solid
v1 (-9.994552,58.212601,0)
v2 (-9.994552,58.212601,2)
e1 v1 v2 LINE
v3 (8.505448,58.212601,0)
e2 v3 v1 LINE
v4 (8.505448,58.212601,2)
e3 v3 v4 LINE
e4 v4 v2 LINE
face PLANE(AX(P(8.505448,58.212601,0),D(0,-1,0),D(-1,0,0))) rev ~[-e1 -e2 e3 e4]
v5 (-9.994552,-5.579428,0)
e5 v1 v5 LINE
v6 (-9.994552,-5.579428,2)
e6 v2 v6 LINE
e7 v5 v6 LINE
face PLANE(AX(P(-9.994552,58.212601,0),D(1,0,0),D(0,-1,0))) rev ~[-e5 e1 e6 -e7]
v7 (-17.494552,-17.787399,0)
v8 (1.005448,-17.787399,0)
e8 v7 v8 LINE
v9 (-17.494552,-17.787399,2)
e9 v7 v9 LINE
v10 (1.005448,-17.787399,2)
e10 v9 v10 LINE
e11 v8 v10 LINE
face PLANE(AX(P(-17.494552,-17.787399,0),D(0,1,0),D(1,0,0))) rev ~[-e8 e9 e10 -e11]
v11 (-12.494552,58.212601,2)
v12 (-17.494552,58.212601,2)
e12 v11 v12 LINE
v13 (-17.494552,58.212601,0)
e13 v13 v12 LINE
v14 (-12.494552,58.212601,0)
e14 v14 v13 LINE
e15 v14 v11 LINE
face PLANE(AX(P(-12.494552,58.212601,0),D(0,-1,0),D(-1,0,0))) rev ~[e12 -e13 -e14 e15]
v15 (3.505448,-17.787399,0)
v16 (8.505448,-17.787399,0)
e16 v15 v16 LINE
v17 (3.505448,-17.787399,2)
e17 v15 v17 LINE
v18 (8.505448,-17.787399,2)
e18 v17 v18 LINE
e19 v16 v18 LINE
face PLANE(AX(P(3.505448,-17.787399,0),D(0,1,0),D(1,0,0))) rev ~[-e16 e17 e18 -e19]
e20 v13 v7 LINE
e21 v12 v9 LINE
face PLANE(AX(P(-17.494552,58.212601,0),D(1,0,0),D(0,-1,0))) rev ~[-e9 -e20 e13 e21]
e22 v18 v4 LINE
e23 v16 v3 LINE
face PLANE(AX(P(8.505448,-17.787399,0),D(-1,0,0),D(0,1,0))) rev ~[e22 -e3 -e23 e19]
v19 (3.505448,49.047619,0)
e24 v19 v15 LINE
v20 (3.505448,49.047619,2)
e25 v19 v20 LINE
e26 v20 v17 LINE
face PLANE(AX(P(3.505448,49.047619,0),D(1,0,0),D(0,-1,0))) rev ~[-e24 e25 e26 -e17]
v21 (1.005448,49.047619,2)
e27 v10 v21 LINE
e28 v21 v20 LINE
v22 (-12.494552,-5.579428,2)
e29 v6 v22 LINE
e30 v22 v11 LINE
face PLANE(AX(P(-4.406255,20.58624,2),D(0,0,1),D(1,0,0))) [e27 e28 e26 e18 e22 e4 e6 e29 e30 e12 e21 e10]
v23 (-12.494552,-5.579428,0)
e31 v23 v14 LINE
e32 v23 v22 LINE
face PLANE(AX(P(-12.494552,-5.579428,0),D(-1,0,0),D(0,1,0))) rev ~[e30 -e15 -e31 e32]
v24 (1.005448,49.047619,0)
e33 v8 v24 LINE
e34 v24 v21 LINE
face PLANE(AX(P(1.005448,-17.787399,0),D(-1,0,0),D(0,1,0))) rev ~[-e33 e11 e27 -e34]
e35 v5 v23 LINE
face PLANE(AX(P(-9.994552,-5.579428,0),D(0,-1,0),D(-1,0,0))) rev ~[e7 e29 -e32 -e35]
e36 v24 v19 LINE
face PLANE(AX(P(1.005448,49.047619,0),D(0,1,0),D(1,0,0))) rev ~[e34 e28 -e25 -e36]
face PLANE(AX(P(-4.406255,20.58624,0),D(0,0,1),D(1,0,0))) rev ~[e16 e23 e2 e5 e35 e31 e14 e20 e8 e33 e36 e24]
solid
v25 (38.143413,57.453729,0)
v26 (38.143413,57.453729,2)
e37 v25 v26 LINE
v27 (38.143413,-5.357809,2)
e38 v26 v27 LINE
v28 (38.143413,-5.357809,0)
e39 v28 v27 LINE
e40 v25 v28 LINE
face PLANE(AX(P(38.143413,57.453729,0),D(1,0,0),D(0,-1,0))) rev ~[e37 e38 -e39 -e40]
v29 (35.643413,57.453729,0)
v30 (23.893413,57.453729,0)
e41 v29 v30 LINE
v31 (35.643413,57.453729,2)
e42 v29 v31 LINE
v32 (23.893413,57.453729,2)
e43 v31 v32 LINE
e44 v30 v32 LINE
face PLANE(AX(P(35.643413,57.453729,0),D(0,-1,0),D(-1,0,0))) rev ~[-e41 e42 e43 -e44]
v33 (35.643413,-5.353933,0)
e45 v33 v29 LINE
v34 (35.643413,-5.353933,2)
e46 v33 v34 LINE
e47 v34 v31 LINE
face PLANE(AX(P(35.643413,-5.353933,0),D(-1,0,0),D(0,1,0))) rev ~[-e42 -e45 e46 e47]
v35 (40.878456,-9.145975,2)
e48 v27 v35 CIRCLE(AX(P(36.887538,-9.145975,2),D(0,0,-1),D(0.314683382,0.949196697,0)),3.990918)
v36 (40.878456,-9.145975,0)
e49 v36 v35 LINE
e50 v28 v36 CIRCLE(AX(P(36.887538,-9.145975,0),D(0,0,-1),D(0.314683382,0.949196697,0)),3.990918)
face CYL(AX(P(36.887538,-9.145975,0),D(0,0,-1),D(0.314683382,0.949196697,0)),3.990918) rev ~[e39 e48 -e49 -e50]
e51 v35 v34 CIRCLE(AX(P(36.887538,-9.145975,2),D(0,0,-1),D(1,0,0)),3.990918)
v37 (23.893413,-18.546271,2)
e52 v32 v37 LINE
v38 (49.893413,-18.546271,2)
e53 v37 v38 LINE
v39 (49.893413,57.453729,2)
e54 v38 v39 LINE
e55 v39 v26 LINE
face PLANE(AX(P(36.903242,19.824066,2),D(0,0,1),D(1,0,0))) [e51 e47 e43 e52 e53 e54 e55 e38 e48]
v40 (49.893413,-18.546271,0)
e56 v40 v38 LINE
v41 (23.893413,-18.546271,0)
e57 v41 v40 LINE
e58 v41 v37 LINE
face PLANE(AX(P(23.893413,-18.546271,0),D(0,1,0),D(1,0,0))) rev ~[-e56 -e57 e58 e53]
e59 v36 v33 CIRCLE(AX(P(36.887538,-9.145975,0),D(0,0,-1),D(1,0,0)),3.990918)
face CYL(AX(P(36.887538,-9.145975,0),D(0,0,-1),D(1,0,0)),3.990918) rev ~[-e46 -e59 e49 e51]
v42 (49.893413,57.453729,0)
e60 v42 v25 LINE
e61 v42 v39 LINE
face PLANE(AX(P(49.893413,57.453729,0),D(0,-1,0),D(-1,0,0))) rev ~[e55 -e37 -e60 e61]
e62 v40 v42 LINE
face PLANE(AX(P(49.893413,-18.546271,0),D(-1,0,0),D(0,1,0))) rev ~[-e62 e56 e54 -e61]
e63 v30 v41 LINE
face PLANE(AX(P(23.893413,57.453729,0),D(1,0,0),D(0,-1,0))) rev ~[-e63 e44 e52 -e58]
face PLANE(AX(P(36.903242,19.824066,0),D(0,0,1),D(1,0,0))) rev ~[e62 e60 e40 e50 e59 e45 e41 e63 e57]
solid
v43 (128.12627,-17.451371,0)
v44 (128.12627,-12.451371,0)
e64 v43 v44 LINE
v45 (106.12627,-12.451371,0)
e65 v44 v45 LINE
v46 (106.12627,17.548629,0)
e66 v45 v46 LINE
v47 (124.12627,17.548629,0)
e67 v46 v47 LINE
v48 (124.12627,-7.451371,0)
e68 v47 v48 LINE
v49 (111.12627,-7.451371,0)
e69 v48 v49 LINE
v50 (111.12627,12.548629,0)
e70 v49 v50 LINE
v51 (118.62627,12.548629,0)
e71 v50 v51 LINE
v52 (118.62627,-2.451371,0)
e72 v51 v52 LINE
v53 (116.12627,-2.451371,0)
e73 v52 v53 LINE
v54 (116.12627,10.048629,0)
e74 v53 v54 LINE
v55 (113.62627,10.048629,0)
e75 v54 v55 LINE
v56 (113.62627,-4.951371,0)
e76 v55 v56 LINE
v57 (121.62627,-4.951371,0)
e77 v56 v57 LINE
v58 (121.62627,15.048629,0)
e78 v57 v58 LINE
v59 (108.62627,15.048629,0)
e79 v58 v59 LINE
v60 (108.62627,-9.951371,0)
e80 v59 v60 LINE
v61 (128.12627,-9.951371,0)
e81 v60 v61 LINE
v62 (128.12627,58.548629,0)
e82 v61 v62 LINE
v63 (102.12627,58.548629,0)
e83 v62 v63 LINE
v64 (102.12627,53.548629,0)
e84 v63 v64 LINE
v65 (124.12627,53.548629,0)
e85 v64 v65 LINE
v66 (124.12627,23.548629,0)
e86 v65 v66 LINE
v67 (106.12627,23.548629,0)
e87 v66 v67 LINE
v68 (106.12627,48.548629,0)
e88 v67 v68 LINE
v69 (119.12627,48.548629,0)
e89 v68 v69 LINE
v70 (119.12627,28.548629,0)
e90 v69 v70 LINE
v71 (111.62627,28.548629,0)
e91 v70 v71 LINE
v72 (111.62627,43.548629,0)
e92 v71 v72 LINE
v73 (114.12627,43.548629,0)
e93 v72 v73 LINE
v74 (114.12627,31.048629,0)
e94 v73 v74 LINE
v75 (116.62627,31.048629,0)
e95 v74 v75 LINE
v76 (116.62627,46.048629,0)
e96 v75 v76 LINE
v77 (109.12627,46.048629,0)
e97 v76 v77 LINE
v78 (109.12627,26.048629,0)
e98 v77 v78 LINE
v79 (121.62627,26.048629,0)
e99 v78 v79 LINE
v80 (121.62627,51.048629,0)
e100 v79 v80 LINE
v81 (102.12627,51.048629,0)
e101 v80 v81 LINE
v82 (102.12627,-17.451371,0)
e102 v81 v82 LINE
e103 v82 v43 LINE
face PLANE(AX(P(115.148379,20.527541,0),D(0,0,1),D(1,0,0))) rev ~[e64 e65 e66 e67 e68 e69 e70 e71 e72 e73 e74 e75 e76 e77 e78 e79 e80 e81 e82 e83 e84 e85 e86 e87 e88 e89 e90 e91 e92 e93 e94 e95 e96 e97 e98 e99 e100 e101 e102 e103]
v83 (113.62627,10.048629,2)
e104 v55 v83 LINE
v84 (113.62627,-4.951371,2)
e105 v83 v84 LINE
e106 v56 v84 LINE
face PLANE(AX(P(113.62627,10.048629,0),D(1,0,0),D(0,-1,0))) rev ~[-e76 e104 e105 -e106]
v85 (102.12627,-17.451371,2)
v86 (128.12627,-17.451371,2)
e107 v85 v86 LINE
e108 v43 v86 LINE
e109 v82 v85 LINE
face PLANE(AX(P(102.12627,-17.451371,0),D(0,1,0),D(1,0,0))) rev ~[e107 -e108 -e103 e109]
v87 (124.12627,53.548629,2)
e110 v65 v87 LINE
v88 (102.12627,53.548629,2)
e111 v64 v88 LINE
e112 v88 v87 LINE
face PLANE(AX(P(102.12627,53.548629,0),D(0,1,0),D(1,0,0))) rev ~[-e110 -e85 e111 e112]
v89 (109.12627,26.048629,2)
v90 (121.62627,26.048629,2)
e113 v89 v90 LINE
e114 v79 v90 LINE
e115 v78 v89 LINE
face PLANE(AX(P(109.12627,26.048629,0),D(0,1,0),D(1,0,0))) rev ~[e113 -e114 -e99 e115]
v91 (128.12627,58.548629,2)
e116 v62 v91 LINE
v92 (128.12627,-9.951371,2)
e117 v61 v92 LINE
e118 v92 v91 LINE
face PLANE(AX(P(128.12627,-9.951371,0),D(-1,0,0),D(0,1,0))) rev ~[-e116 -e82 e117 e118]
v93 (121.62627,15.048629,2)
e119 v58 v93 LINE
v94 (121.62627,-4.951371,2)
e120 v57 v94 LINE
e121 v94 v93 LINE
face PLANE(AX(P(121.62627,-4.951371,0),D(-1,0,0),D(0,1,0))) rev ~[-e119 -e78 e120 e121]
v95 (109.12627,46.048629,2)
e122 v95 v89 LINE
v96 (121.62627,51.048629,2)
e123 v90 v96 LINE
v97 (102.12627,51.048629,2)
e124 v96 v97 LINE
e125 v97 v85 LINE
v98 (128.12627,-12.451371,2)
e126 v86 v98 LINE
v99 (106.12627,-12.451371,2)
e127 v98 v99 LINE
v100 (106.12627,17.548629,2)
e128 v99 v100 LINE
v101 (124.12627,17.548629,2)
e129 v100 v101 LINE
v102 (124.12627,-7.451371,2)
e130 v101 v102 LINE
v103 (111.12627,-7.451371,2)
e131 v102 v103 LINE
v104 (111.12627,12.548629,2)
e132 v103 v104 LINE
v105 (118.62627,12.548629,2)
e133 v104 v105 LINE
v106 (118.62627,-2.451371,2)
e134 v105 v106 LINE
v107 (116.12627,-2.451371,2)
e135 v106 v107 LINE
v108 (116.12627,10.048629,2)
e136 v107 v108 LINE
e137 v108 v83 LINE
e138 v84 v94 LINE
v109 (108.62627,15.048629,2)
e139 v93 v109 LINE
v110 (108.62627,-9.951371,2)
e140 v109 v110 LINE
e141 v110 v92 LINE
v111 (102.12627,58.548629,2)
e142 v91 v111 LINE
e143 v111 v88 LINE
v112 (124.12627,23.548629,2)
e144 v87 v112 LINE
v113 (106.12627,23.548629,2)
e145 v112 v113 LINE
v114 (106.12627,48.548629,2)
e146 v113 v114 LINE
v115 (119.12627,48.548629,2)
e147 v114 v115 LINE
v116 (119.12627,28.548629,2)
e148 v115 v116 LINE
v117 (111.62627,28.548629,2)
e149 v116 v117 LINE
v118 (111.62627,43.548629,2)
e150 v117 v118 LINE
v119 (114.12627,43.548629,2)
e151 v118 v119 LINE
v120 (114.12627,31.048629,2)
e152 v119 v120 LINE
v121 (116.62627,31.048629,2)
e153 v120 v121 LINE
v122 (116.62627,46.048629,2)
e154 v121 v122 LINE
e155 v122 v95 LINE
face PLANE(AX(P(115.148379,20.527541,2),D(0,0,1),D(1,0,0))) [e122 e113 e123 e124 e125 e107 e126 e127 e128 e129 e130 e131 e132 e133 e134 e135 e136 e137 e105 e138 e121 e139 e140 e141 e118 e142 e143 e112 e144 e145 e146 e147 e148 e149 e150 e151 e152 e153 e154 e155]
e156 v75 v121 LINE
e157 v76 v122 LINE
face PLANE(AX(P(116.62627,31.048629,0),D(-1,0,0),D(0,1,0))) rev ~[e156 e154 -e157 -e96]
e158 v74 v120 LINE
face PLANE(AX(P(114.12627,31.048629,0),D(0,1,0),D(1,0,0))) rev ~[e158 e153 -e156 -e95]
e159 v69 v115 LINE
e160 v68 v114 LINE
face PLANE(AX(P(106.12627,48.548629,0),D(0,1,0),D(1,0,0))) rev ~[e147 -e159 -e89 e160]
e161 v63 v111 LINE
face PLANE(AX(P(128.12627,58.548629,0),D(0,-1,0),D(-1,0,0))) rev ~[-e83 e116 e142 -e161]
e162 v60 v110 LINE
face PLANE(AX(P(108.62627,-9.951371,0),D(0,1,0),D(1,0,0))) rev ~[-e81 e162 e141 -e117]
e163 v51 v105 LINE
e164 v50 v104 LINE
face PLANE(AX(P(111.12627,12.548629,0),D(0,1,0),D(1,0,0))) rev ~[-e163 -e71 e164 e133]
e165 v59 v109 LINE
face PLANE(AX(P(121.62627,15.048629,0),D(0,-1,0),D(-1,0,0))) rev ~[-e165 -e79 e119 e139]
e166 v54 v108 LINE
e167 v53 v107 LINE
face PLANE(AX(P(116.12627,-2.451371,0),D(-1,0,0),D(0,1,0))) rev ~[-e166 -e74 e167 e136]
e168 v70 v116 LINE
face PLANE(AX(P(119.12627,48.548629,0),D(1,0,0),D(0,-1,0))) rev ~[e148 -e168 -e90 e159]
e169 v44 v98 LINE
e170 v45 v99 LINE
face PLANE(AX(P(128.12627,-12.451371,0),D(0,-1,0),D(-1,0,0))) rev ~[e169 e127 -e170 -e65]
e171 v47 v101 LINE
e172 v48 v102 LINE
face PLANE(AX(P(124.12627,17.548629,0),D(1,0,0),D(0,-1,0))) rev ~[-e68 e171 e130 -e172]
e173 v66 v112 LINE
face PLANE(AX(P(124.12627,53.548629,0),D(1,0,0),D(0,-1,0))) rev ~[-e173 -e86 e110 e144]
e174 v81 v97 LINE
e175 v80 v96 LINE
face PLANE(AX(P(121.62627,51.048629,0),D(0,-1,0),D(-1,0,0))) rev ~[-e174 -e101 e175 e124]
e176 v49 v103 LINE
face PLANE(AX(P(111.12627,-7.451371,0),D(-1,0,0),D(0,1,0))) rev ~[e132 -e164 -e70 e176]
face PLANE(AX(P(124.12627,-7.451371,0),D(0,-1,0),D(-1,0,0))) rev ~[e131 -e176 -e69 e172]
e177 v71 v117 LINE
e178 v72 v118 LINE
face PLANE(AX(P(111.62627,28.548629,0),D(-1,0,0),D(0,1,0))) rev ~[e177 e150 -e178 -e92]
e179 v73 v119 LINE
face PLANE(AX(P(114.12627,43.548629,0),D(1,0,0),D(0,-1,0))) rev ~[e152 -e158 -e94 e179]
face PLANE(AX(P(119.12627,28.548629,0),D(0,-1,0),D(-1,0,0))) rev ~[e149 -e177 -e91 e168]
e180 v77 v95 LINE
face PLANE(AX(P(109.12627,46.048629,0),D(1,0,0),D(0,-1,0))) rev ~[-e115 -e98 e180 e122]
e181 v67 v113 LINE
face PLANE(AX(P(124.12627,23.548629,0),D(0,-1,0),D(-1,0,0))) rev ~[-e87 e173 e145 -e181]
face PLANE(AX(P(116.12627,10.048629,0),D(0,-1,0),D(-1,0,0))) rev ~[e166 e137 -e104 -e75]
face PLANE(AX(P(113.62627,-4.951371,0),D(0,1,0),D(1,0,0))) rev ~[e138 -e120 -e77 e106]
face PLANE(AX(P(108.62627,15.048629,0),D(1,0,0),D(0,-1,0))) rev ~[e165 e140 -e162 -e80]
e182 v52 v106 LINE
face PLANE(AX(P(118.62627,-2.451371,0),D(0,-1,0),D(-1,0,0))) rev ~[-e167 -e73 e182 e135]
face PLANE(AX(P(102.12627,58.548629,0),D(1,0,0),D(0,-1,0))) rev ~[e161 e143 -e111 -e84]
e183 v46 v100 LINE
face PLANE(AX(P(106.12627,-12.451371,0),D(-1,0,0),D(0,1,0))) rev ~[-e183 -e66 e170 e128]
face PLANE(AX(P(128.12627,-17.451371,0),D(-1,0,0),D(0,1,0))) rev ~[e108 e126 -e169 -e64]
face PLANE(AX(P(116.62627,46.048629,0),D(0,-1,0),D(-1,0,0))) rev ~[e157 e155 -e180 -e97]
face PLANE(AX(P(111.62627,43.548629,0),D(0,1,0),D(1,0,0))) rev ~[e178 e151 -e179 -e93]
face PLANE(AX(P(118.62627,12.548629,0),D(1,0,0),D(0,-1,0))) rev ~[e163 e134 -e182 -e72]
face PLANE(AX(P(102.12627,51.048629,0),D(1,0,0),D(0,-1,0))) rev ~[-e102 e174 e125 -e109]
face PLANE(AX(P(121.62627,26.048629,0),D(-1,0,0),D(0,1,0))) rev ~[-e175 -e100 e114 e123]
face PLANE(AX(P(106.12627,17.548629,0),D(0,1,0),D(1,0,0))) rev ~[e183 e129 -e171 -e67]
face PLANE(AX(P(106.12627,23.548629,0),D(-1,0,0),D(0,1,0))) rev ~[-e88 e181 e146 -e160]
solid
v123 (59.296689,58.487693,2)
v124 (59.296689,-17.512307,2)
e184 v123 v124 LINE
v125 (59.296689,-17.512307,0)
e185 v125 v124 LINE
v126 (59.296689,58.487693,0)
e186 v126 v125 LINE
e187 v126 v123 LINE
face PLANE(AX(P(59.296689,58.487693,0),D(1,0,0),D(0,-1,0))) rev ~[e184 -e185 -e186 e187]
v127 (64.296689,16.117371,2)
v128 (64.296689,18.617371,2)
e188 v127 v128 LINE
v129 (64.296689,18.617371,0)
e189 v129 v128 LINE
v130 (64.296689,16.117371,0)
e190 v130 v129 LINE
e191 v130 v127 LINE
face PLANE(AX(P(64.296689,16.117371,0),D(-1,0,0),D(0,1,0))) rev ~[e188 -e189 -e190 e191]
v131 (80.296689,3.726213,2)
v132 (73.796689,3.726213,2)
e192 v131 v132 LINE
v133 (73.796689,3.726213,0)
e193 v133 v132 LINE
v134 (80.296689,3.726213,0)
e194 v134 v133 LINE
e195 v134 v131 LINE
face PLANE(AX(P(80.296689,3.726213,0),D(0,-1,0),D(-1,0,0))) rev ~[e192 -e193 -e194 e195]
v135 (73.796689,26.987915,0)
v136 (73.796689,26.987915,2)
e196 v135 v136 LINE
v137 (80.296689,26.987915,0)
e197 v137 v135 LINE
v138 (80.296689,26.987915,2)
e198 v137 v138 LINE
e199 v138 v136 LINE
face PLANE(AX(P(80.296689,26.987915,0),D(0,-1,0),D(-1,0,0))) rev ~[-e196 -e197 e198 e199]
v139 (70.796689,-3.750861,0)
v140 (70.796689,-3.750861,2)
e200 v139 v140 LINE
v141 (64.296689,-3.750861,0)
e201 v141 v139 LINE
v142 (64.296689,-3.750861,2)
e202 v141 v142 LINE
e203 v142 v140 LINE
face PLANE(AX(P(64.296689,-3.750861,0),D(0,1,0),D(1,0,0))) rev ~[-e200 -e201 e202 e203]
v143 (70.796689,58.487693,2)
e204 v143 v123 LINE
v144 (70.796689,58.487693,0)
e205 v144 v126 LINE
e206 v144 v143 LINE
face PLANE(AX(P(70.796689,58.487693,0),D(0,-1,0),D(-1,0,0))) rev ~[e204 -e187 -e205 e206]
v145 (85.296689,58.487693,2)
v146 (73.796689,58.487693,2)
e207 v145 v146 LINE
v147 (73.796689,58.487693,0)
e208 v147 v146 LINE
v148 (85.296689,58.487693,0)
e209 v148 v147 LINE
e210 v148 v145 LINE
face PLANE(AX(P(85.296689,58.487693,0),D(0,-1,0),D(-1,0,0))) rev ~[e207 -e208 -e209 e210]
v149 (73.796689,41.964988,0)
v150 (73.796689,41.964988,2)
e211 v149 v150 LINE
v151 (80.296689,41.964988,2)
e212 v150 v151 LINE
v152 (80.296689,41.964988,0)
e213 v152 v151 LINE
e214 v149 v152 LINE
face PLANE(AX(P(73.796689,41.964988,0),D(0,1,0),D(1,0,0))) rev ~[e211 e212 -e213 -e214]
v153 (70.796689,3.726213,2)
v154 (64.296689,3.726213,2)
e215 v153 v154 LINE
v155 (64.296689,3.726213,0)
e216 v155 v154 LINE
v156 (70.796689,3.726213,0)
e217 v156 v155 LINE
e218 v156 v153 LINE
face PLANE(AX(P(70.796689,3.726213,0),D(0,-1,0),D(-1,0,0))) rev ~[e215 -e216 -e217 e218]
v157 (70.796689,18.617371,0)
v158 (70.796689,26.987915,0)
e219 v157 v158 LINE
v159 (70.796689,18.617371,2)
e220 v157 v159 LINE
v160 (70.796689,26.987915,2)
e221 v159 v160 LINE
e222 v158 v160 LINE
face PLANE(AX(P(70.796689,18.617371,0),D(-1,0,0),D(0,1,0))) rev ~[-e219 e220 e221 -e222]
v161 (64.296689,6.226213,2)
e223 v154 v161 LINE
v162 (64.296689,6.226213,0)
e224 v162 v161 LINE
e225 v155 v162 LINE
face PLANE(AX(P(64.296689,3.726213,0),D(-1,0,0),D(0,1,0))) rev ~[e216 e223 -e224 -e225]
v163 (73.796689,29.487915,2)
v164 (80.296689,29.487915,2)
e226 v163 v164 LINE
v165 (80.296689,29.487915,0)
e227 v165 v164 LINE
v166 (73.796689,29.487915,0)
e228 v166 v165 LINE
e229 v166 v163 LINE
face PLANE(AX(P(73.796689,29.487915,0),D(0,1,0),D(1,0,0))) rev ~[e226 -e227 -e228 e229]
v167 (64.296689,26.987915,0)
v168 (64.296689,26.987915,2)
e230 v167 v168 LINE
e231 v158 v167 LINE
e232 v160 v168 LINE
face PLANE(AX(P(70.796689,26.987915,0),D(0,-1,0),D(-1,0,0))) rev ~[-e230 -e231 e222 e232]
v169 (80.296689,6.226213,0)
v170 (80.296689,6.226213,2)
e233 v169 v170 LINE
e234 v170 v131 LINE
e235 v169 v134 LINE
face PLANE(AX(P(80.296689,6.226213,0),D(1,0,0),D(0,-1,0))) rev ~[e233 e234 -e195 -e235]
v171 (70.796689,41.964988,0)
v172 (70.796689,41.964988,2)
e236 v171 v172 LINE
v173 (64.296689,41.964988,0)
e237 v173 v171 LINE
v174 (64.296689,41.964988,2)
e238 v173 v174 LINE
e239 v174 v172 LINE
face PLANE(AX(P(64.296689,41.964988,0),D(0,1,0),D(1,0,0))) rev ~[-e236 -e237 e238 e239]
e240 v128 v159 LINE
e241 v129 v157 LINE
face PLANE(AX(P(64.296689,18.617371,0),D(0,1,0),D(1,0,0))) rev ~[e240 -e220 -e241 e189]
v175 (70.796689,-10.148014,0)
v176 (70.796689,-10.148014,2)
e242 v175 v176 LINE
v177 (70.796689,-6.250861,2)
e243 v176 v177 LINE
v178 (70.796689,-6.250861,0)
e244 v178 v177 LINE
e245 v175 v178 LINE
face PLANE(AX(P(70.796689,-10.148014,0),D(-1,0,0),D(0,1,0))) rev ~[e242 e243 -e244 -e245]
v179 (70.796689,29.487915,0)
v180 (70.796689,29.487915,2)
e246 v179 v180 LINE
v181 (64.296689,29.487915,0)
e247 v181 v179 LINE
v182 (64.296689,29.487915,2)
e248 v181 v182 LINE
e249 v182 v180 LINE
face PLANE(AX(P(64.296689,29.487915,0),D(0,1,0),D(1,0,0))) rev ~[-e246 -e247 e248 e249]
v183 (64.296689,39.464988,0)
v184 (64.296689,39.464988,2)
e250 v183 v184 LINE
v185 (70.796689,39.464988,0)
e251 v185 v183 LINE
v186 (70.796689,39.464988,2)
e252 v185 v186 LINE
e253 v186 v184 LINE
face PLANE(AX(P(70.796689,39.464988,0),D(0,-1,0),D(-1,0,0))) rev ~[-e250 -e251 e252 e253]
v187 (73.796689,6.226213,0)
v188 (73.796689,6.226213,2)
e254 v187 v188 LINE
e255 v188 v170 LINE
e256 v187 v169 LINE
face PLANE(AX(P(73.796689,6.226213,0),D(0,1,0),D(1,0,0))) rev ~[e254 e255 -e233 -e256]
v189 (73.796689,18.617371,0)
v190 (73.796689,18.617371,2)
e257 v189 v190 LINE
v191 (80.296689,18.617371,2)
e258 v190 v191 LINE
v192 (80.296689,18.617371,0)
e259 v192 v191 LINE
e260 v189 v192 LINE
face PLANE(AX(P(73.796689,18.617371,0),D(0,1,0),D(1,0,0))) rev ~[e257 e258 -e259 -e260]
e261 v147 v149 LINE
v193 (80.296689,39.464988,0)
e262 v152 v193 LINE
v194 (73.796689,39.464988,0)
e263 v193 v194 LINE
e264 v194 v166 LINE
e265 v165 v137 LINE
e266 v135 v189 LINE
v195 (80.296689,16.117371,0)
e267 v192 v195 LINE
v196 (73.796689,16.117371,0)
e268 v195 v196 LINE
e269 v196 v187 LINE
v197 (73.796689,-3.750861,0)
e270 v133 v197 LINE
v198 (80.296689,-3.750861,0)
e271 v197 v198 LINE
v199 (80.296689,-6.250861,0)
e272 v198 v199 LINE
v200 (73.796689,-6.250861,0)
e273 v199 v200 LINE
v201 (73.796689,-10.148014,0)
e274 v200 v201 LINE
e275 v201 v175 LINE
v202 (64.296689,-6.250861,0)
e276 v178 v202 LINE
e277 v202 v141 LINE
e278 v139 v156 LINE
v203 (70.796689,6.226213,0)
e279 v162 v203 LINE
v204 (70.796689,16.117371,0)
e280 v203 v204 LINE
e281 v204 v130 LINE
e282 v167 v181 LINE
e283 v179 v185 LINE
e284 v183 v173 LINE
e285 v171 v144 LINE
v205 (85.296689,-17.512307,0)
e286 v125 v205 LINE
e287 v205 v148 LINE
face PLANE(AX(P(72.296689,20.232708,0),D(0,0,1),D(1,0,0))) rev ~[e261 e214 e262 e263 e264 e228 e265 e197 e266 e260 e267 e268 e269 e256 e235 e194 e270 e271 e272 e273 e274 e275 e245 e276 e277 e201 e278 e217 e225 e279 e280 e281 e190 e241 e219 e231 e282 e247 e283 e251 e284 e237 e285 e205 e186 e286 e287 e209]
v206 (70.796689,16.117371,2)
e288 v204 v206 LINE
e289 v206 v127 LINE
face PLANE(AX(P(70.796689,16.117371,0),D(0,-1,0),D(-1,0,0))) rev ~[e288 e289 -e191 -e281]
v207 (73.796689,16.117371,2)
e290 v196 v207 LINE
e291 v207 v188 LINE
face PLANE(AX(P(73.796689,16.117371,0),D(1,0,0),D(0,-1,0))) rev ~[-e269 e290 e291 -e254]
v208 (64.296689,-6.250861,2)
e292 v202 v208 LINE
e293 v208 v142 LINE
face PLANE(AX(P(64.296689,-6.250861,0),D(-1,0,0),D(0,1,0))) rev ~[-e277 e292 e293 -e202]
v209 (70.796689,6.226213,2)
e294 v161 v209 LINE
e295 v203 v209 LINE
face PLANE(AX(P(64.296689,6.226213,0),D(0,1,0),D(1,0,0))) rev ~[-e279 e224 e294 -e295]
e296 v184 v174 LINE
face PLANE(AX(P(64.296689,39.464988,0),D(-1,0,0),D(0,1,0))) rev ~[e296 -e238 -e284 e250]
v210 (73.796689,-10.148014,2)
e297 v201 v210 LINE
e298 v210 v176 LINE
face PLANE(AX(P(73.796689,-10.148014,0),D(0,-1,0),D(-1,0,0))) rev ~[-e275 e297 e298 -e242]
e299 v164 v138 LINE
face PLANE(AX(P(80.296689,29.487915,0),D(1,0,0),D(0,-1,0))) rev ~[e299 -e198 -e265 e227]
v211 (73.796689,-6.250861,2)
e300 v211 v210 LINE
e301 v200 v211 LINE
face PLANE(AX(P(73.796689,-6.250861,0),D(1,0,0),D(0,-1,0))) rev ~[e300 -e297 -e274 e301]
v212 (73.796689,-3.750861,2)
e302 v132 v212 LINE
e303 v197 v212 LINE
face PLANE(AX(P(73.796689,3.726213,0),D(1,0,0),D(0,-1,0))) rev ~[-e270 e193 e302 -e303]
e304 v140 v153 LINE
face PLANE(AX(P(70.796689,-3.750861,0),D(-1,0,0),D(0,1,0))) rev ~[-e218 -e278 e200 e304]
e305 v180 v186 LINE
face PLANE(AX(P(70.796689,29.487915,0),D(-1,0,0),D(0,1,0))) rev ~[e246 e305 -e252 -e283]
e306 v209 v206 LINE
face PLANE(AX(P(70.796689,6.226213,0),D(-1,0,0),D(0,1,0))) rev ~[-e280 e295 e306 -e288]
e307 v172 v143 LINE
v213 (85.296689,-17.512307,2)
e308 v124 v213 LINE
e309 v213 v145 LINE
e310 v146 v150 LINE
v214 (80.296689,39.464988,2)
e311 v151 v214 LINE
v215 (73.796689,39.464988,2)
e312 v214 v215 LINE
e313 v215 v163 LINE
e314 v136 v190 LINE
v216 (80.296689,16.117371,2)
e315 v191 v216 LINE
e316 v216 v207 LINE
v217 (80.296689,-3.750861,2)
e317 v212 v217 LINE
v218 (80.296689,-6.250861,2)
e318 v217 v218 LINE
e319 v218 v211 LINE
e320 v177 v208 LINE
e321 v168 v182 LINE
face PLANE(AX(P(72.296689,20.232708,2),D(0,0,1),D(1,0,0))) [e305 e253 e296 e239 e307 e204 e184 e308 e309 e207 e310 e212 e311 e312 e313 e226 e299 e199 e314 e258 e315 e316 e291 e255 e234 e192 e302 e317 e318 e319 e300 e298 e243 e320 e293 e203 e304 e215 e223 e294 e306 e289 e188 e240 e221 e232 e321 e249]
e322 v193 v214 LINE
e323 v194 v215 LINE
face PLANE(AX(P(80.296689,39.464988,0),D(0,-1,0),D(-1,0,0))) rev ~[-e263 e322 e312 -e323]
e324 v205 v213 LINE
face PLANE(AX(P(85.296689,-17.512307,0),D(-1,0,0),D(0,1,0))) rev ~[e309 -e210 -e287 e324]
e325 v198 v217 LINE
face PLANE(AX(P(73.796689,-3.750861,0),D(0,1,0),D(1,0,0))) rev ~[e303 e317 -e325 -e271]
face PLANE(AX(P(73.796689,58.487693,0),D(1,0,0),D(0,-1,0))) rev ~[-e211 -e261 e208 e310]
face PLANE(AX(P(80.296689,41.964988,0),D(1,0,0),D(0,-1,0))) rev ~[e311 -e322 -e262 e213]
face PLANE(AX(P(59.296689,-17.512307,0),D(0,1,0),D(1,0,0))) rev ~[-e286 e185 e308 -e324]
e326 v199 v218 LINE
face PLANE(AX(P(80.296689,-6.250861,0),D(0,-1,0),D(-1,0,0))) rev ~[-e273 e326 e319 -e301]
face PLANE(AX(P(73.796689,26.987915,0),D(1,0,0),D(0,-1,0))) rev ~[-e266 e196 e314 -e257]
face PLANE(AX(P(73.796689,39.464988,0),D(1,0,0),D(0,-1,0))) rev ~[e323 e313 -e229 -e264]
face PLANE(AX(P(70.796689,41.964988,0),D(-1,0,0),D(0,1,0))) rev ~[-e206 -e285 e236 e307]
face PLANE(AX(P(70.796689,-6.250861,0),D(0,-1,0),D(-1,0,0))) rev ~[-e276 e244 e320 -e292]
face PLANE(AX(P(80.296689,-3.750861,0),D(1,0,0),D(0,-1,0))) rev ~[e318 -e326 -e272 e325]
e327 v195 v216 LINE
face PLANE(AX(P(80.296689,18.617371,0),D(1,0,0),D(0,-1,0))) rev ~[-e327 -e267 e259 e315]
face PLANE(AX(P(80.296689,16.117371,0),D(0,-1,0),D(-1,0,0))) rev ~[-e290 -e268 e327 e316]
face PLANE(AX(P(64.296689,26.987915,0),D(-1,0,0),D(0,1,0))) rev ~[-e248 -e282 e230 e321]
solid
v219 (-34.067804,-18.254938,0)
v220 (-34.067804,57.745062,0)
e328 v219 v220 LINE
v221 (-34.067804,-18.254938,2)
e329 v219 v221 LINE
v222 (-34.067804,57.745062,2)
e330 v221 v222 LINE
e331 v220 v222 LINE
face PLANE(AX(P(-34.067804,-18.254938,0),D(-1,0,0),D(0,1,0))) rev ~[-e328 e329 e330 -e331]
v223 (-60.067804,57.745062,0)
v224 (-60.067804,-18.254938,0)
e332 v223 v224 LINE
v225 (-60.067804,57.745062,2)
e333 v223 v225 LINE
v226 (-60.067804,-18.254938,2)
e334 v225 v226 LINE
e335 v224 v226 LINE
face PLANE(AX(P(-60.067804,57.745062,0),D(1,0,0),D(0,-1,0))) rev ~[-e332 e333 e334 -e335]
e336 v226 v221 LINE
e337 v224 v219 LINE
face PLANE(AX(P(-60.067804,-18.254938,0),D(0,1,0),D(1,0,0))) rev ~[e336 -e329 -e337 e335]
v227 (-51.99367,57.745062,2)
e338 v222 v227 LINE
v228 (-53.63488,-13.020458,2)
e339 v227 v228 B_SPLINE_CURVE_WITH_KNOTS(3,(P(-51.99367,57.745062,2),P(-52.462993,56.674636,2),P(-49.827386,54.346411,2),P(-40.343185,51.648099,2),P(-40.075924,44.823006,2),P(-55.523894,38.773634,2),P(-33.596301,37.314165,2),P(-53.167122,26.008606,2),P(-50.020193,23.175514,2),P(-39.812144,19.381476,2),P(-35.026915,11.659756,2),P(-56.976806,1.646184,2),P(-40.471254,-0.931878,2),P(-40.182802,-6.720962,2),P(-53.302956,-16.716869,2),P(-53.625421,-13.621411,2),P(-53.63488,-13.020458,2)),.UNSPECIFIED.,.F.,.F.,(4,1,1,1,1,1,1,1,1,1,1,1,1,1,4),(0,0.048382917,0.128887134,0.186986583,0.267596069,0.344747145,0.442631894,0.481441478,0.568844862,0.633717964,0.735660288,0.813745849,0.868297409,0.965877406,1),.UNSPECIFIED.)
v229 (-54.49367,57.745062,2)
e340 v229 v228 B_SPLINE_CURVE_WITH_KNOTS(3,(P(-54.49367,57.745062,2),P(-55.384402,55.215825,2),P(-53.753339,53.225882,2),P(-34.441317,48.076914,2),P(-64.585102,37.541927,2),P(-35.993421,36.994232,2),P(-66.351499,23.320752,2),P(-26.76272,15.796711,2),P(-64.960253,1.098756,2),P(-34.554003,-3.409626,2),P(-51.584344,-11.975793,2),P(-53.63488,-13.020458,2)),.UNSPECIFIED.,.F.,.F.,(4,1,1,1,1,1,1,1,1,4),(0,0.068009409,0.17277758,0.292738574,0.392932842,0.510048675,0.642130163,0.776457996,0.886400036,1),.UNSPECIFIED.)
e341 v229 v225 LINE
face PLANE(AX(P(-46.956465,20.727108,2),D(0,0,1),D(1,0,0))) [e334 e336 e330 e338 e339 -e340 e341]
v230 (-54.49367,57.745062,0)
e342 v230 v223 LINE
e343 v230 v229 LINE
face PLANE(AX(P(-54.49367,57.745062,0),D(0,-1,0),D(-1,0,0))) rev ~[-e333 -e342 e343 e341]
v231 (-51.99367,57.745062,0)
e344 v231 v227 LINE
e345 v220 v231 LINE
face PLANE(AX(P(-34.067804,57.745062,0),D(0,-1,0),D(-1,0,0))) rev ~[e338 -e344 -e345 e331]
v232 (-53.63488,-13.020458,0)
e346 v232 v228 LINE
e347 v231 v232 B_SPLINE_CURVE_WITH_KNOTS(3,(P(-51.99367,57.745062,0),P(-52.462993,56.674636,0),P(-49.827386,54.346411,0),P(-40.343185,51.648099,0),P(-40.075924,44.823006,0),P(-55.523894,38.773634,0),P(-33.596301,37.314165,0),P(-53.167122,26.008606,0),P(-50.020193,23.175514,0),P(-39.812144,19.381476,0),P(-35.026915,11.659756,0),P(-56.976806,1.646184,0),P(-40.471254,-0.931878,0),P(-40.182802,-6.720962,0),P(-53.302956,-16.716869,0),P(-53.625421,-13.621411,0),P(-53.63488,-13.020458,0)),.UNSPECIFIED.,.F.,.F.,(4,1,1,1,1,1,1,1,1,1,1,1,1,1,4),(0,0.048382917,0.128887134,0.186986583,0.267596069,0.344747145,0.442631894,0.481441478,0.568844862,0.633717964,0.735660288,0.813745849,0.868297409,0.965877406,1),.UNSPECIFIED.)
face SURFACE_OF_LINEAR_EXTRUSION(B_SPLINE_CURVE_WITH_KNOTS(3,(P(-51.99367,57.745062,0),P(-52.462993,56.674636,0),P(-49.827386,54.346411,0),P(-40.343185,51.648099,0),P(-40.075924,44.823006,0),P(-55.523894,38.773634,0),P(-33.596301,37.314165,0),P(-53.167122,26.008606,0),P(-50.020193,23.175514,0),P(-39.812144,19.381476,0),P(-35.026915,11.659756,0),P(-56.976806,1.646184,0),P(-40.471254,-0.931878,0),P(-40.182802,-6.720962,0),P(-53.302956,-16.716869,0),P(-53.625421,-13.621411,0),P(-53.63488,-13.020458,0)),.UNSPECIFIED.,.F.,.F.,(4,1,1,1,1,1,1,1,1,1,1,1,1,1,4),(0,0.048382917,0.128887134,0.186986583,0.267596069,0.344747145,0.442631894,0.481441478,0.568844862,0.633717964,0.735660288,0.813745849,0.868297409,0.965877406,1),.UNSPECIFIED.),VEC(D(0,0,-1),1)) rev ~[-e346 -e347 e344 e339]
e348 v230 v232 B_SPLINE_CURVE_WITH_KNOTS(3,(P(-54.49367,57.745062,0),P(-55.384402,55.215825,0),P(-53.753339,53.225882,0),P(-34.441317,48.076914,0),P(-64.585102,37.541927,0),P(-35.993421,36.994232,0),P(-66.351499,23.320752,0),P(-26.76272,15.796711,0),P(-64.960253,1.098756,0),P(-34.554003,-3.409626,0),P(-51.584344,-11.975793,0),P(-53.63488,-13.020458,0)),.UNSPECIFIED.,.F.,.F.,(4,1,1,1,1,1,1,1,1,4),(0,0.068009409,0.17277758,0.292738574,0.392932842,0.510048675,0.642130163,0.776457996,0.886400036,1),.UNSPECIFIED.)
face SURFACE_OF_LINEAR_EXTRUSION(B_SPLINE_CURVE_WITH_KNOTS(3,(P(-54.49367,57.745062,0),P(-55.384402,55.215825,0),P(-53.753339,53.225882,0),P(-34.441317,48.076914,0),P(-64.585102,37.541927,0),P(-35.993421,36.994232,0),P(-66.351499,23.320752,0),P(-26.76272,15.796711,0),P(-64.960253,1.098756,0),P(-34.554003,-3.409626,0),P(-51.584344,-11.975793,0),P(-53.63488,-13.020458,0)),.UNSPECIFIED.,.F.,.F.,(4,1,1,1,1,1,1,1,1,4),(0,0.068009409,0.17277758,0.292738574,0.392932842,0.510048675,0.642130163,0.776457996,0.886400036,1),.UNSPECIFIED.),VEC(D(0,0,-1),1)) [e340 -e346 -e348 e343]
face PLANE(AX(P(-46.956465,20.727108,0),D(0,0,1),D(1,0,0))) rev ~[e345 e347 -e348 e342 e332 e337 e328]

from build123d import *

# Parameters (mm, degrees)
F1_DEPTH = 2


with BuildPart() as f1:
    # F0 (on Top) → F1 (new body)
    with BuildSketch(Plane.XY):
        with BuildLine():
            Line((-54.4936697613, 57.7450618148), (-60.067804262, 57.7450618148))
            Line((-60.067804262, 57.7450618148), (-60.067804262, -18.2549381852))
            Line((-60.067804262, -18.2549381852), (-34.067804262, -18.2549381852))
            Line((-34.067804262, -18.2549381852), (-34.067804262, 57.7450618148))
            Line((-34.067804262, 57.7450618148), (-51.9936697613, 57.7450618148))
            add(Edge.make_bspline(
                [(-51.9936697613, 57.7450618148), (-52.4629934251, 56.6746355938), (-49.8273861072, 54.3464107366), (-40.343185222, 51.6480987504), (-40.0759238169, 44.8230056601), (-55.523894435, 38.7736342779), (-33.596300888, 37.3141646627), (-53.1671219133, 26.0086060064), (-50.0201929827, 23.1755137233), (-39.8121435158, 19.3814755905), (-35.0269152179, 11.6597558419), (-56.976806105, 1.6461840375), (-40.4712537079, -0.9318778808), (-40.1828019362, -6.7209624493), (-53.3029559168, -16.7168685692), (-53.6254210551, -13.6214114396), (-53.6348804684, -13.0204576716)],
                knots=[0, 0, 0, 0, 0.0483829166, 0.1288871341, 0.1869865831, 0.2675960687, 0.3447471452, 0.4426318942, 0.4814414776, 0.5688448621, 0.6337179637, 0.7356602885, 0.8137458491, 0.868297409, 0.9658774059, 1, 1, 1, 1], degree=3))
            add(Edge.make_bspline(
                [(-54.4936697613, 57.7450618148), (-55.3844022158, 55.2158245471), (-53.7533386204, 53.2258818782), (-34.4413174971, 48.0769144028), (-64.5851021567, 37.5419271037), (-35.9934207597, 36.9942315676), (-66.3514989195, 23.320752015), (-26.7627198037, 15.7967110833), (-64.9602530129, 1.0987555401), (-34.5540029884, -3.4096263742), (-51.5843439743, -11.9757932148), (-53.6348804684, -13.0204576716)],
                knots=[0, 0, 0, 0, 0.0680094093, 0.1727775799, 0.2927385739, 0.3929328419, 0.5100486748, 0.6421301632, 0.7764579964, 0.8864000361, 1, 1, 1, 1], degree=3))
        make_face()
    extrude(amount=F1_DEPTH)


with BuildPart() as f1b:
    # F0 (on Top) → F1, piece 2 (new body)
    with BuildSketch(Plane.XY):
        Polygon((-12.4945518374, 58.2126012295), (-17.4945518374, 58.2126012295), (-17.4945518374, -17.7873987705), (1.0054481626, -17.7873987705), (1.0054481626, 49.0476191044), (3.5054481626, 49.0476191044), (3.5054481626, -17.7873987705), (8.5054481626, -17.7873987705), (8.5054481626, 58.2126012295), (-9.9945518374, 58.2126012295), (-9.9945518374, -5.579427816), (-12.4945518374, -5.579427816), align=None)
    extrude(amount=F1_DEPTH)


with BuildPart() as f1c:
    # F0 (on Top) → F1, piece 3 (new body)
    with BuildSketch(Plane.XY):
        with BuildLine():
            Line((35.6434132218, 57.4537292123), (23.8934132218, 57.4537292123))
            Line((23.8934132218, 57.4537292123), (23.8934132218, -18.5462707877))
            Line((23.8934132218, -18.5462707877), (49.8934132218, -18.5462707877))
            Line((49.8934132218, -18.5462707877), (49.8934132218, 57.4537292123))
            Line((49.8934132218, 57.4537292123), (38.1434132218, 57.4537292123))
            Line((38.1434132218, 57.4537292123), (38.1434132218, -5.3578090473))
            ThreePointArc((38.1434132218, -5.3578090473), (40.1232386643, -6.8098105876), (40.8784555645, -9.1459751129))
            ThreePointArc((40.8784555645, -9.1459751129), (34.5463598942, -12.3780506125), (35.6434132218, -5.3539334716))
            Line((35.6434132218, -5.3539334716), (35.6434132218, 57.4537292123))
        make_face()
    extrude(amount=F1_DEPTH)


with BuildPart() as f1d:
    # F0 (on Top) → F1, piece 4 (new body)
    with BuildSketch(Plane.XY):
        Polygon((70.7966893911, 58.487693429), (59.2966893911, 58.487693429), (59.2966893911, -17.512306571), (85.2966893911, -17.512306571), (85.2966893911, 58.487693429), (73.7966893911, 58.487693429), (73.7966893911, 41.9649878144), (80.2966893911, 41.9649878144), (80.2966893911, 39.4649878144), (73.7966893911, 39.4649878144), (73.7966893911, 29.4879153371), (80.2966893911, 29.4879153371), (80.2966893911, 26.9879153371), (73.7966893911, 26.9879153371), (73.7966893911, 18.6173710972), (80.2966893911, 18.6173710972), (80.2966893911, 16.1173710972), (73.7966893911, 16.1173710972), (73.7966893911, 6.2262132391), (80.2966893911, 6.2262132391), (80.2966893911, 3.7262132391), (73.7966893911, 3.7262132391), (73.7966893911, -3.7508611009), (80.2966893911, -3.7508611009), (80.2966893911, -6.2508611009), (73.7966893911, -6.2508611009), (73.7966893911, -10.1480139419), (70.7966893911, -10.1480139419), (70.7966893911, -6.2508611009), (64.2966893911, -6.2508611009), (64.2966893911, -3.7508611009), (70.7966893911, -3.7508611009), (70.7966893911, 3.7262132391), (64.2966893911, 3.7262132391), (64.2966893911, 6.2262132391), (70.7966893911, 6.2262132391), (70.7966893911, 16.1173710972), (64.2966893911, 16.1173710972), (64.2966893911, 18.6173710972), (70.7966893911, 18.6173710972), (70.7966893911, 26.9879153371), (64.2966893911, 26.9879153371), (64.2966893911, 29.4879153371), (70.7966893911, 29.4879153371), (70.7966893911, 39.4649878144), (64.2966893911, 39.4649878144), (64.2966893911, 41.9649878144), (70.7966893911, 41.9649878144), align=None)
    extrude(amount=F1_DEPTH)


with BuildPart() as f1e:
    # F0 (on Top) → F1, piece 5 (new body)
    with BuildSketch(Plane.XY):
        Polygon((128.1262701154, 58.5486292839), (102.1262701154, 58.5486292839), (102.1262701154, 53.5486292839), (124.1262701154, 53.5486292839), (124.1262701154, 23.5486292839), (106.1262701154, 23.5486292839), (106.1262701154, 48.5486292839), (119.1262701154, 48.5486292839), (119.1262701154, 28.5486292839), (111.6262701154, 28.5486292839), (111.6262701154, 43.5486292839), (114.1262701154, 43.5486292839), (114.1262701154, 31.0486292839), (116.6262701154, 31.0486292839), (116.6262701154, 46.0486292839), (109.1262701154, 46.0486292839), (109.1262701154, 26.0486292839), (121.6262701154, 26.0486292839), (121.6262701154, 51.0486292839), (102.1262701154, 51.0486292839), (102.1262701154, -17.4513707161), (128.1262701154, -17.4513707161), (128.1262701154, -12.4513707161), (106.1262701154, -12.4513707161), (106.1262701154, 17.5486292839), (124.1262701154, 17.5486292839), (124.1262701154, -7.4513707161), (111.1262701154, -7.4513707161), (111.1262701154, 12.5486292839), (118.6262701154, 12.5486292839), (118.6262701154, -2.4513707161), (116.1262701154, -2.4513707161), (116.1262701154, 10.0486292839), (113.6262701154, 10.0486292839), (113.6262701154, -4.9513707161), (121.6262701154, -4.9513707161), (121.6262701154, 15.0486292839), (108.6262701154, 15.0486292839), (108.6262701154, -9.9513707161), (128.1262701154, -9.9513707161), align=None)
    extrude(amount=F1_DEPTH)


solid = Compound([f1.part, f1b.part, f1c.part, f1d.part, f1e.part])
